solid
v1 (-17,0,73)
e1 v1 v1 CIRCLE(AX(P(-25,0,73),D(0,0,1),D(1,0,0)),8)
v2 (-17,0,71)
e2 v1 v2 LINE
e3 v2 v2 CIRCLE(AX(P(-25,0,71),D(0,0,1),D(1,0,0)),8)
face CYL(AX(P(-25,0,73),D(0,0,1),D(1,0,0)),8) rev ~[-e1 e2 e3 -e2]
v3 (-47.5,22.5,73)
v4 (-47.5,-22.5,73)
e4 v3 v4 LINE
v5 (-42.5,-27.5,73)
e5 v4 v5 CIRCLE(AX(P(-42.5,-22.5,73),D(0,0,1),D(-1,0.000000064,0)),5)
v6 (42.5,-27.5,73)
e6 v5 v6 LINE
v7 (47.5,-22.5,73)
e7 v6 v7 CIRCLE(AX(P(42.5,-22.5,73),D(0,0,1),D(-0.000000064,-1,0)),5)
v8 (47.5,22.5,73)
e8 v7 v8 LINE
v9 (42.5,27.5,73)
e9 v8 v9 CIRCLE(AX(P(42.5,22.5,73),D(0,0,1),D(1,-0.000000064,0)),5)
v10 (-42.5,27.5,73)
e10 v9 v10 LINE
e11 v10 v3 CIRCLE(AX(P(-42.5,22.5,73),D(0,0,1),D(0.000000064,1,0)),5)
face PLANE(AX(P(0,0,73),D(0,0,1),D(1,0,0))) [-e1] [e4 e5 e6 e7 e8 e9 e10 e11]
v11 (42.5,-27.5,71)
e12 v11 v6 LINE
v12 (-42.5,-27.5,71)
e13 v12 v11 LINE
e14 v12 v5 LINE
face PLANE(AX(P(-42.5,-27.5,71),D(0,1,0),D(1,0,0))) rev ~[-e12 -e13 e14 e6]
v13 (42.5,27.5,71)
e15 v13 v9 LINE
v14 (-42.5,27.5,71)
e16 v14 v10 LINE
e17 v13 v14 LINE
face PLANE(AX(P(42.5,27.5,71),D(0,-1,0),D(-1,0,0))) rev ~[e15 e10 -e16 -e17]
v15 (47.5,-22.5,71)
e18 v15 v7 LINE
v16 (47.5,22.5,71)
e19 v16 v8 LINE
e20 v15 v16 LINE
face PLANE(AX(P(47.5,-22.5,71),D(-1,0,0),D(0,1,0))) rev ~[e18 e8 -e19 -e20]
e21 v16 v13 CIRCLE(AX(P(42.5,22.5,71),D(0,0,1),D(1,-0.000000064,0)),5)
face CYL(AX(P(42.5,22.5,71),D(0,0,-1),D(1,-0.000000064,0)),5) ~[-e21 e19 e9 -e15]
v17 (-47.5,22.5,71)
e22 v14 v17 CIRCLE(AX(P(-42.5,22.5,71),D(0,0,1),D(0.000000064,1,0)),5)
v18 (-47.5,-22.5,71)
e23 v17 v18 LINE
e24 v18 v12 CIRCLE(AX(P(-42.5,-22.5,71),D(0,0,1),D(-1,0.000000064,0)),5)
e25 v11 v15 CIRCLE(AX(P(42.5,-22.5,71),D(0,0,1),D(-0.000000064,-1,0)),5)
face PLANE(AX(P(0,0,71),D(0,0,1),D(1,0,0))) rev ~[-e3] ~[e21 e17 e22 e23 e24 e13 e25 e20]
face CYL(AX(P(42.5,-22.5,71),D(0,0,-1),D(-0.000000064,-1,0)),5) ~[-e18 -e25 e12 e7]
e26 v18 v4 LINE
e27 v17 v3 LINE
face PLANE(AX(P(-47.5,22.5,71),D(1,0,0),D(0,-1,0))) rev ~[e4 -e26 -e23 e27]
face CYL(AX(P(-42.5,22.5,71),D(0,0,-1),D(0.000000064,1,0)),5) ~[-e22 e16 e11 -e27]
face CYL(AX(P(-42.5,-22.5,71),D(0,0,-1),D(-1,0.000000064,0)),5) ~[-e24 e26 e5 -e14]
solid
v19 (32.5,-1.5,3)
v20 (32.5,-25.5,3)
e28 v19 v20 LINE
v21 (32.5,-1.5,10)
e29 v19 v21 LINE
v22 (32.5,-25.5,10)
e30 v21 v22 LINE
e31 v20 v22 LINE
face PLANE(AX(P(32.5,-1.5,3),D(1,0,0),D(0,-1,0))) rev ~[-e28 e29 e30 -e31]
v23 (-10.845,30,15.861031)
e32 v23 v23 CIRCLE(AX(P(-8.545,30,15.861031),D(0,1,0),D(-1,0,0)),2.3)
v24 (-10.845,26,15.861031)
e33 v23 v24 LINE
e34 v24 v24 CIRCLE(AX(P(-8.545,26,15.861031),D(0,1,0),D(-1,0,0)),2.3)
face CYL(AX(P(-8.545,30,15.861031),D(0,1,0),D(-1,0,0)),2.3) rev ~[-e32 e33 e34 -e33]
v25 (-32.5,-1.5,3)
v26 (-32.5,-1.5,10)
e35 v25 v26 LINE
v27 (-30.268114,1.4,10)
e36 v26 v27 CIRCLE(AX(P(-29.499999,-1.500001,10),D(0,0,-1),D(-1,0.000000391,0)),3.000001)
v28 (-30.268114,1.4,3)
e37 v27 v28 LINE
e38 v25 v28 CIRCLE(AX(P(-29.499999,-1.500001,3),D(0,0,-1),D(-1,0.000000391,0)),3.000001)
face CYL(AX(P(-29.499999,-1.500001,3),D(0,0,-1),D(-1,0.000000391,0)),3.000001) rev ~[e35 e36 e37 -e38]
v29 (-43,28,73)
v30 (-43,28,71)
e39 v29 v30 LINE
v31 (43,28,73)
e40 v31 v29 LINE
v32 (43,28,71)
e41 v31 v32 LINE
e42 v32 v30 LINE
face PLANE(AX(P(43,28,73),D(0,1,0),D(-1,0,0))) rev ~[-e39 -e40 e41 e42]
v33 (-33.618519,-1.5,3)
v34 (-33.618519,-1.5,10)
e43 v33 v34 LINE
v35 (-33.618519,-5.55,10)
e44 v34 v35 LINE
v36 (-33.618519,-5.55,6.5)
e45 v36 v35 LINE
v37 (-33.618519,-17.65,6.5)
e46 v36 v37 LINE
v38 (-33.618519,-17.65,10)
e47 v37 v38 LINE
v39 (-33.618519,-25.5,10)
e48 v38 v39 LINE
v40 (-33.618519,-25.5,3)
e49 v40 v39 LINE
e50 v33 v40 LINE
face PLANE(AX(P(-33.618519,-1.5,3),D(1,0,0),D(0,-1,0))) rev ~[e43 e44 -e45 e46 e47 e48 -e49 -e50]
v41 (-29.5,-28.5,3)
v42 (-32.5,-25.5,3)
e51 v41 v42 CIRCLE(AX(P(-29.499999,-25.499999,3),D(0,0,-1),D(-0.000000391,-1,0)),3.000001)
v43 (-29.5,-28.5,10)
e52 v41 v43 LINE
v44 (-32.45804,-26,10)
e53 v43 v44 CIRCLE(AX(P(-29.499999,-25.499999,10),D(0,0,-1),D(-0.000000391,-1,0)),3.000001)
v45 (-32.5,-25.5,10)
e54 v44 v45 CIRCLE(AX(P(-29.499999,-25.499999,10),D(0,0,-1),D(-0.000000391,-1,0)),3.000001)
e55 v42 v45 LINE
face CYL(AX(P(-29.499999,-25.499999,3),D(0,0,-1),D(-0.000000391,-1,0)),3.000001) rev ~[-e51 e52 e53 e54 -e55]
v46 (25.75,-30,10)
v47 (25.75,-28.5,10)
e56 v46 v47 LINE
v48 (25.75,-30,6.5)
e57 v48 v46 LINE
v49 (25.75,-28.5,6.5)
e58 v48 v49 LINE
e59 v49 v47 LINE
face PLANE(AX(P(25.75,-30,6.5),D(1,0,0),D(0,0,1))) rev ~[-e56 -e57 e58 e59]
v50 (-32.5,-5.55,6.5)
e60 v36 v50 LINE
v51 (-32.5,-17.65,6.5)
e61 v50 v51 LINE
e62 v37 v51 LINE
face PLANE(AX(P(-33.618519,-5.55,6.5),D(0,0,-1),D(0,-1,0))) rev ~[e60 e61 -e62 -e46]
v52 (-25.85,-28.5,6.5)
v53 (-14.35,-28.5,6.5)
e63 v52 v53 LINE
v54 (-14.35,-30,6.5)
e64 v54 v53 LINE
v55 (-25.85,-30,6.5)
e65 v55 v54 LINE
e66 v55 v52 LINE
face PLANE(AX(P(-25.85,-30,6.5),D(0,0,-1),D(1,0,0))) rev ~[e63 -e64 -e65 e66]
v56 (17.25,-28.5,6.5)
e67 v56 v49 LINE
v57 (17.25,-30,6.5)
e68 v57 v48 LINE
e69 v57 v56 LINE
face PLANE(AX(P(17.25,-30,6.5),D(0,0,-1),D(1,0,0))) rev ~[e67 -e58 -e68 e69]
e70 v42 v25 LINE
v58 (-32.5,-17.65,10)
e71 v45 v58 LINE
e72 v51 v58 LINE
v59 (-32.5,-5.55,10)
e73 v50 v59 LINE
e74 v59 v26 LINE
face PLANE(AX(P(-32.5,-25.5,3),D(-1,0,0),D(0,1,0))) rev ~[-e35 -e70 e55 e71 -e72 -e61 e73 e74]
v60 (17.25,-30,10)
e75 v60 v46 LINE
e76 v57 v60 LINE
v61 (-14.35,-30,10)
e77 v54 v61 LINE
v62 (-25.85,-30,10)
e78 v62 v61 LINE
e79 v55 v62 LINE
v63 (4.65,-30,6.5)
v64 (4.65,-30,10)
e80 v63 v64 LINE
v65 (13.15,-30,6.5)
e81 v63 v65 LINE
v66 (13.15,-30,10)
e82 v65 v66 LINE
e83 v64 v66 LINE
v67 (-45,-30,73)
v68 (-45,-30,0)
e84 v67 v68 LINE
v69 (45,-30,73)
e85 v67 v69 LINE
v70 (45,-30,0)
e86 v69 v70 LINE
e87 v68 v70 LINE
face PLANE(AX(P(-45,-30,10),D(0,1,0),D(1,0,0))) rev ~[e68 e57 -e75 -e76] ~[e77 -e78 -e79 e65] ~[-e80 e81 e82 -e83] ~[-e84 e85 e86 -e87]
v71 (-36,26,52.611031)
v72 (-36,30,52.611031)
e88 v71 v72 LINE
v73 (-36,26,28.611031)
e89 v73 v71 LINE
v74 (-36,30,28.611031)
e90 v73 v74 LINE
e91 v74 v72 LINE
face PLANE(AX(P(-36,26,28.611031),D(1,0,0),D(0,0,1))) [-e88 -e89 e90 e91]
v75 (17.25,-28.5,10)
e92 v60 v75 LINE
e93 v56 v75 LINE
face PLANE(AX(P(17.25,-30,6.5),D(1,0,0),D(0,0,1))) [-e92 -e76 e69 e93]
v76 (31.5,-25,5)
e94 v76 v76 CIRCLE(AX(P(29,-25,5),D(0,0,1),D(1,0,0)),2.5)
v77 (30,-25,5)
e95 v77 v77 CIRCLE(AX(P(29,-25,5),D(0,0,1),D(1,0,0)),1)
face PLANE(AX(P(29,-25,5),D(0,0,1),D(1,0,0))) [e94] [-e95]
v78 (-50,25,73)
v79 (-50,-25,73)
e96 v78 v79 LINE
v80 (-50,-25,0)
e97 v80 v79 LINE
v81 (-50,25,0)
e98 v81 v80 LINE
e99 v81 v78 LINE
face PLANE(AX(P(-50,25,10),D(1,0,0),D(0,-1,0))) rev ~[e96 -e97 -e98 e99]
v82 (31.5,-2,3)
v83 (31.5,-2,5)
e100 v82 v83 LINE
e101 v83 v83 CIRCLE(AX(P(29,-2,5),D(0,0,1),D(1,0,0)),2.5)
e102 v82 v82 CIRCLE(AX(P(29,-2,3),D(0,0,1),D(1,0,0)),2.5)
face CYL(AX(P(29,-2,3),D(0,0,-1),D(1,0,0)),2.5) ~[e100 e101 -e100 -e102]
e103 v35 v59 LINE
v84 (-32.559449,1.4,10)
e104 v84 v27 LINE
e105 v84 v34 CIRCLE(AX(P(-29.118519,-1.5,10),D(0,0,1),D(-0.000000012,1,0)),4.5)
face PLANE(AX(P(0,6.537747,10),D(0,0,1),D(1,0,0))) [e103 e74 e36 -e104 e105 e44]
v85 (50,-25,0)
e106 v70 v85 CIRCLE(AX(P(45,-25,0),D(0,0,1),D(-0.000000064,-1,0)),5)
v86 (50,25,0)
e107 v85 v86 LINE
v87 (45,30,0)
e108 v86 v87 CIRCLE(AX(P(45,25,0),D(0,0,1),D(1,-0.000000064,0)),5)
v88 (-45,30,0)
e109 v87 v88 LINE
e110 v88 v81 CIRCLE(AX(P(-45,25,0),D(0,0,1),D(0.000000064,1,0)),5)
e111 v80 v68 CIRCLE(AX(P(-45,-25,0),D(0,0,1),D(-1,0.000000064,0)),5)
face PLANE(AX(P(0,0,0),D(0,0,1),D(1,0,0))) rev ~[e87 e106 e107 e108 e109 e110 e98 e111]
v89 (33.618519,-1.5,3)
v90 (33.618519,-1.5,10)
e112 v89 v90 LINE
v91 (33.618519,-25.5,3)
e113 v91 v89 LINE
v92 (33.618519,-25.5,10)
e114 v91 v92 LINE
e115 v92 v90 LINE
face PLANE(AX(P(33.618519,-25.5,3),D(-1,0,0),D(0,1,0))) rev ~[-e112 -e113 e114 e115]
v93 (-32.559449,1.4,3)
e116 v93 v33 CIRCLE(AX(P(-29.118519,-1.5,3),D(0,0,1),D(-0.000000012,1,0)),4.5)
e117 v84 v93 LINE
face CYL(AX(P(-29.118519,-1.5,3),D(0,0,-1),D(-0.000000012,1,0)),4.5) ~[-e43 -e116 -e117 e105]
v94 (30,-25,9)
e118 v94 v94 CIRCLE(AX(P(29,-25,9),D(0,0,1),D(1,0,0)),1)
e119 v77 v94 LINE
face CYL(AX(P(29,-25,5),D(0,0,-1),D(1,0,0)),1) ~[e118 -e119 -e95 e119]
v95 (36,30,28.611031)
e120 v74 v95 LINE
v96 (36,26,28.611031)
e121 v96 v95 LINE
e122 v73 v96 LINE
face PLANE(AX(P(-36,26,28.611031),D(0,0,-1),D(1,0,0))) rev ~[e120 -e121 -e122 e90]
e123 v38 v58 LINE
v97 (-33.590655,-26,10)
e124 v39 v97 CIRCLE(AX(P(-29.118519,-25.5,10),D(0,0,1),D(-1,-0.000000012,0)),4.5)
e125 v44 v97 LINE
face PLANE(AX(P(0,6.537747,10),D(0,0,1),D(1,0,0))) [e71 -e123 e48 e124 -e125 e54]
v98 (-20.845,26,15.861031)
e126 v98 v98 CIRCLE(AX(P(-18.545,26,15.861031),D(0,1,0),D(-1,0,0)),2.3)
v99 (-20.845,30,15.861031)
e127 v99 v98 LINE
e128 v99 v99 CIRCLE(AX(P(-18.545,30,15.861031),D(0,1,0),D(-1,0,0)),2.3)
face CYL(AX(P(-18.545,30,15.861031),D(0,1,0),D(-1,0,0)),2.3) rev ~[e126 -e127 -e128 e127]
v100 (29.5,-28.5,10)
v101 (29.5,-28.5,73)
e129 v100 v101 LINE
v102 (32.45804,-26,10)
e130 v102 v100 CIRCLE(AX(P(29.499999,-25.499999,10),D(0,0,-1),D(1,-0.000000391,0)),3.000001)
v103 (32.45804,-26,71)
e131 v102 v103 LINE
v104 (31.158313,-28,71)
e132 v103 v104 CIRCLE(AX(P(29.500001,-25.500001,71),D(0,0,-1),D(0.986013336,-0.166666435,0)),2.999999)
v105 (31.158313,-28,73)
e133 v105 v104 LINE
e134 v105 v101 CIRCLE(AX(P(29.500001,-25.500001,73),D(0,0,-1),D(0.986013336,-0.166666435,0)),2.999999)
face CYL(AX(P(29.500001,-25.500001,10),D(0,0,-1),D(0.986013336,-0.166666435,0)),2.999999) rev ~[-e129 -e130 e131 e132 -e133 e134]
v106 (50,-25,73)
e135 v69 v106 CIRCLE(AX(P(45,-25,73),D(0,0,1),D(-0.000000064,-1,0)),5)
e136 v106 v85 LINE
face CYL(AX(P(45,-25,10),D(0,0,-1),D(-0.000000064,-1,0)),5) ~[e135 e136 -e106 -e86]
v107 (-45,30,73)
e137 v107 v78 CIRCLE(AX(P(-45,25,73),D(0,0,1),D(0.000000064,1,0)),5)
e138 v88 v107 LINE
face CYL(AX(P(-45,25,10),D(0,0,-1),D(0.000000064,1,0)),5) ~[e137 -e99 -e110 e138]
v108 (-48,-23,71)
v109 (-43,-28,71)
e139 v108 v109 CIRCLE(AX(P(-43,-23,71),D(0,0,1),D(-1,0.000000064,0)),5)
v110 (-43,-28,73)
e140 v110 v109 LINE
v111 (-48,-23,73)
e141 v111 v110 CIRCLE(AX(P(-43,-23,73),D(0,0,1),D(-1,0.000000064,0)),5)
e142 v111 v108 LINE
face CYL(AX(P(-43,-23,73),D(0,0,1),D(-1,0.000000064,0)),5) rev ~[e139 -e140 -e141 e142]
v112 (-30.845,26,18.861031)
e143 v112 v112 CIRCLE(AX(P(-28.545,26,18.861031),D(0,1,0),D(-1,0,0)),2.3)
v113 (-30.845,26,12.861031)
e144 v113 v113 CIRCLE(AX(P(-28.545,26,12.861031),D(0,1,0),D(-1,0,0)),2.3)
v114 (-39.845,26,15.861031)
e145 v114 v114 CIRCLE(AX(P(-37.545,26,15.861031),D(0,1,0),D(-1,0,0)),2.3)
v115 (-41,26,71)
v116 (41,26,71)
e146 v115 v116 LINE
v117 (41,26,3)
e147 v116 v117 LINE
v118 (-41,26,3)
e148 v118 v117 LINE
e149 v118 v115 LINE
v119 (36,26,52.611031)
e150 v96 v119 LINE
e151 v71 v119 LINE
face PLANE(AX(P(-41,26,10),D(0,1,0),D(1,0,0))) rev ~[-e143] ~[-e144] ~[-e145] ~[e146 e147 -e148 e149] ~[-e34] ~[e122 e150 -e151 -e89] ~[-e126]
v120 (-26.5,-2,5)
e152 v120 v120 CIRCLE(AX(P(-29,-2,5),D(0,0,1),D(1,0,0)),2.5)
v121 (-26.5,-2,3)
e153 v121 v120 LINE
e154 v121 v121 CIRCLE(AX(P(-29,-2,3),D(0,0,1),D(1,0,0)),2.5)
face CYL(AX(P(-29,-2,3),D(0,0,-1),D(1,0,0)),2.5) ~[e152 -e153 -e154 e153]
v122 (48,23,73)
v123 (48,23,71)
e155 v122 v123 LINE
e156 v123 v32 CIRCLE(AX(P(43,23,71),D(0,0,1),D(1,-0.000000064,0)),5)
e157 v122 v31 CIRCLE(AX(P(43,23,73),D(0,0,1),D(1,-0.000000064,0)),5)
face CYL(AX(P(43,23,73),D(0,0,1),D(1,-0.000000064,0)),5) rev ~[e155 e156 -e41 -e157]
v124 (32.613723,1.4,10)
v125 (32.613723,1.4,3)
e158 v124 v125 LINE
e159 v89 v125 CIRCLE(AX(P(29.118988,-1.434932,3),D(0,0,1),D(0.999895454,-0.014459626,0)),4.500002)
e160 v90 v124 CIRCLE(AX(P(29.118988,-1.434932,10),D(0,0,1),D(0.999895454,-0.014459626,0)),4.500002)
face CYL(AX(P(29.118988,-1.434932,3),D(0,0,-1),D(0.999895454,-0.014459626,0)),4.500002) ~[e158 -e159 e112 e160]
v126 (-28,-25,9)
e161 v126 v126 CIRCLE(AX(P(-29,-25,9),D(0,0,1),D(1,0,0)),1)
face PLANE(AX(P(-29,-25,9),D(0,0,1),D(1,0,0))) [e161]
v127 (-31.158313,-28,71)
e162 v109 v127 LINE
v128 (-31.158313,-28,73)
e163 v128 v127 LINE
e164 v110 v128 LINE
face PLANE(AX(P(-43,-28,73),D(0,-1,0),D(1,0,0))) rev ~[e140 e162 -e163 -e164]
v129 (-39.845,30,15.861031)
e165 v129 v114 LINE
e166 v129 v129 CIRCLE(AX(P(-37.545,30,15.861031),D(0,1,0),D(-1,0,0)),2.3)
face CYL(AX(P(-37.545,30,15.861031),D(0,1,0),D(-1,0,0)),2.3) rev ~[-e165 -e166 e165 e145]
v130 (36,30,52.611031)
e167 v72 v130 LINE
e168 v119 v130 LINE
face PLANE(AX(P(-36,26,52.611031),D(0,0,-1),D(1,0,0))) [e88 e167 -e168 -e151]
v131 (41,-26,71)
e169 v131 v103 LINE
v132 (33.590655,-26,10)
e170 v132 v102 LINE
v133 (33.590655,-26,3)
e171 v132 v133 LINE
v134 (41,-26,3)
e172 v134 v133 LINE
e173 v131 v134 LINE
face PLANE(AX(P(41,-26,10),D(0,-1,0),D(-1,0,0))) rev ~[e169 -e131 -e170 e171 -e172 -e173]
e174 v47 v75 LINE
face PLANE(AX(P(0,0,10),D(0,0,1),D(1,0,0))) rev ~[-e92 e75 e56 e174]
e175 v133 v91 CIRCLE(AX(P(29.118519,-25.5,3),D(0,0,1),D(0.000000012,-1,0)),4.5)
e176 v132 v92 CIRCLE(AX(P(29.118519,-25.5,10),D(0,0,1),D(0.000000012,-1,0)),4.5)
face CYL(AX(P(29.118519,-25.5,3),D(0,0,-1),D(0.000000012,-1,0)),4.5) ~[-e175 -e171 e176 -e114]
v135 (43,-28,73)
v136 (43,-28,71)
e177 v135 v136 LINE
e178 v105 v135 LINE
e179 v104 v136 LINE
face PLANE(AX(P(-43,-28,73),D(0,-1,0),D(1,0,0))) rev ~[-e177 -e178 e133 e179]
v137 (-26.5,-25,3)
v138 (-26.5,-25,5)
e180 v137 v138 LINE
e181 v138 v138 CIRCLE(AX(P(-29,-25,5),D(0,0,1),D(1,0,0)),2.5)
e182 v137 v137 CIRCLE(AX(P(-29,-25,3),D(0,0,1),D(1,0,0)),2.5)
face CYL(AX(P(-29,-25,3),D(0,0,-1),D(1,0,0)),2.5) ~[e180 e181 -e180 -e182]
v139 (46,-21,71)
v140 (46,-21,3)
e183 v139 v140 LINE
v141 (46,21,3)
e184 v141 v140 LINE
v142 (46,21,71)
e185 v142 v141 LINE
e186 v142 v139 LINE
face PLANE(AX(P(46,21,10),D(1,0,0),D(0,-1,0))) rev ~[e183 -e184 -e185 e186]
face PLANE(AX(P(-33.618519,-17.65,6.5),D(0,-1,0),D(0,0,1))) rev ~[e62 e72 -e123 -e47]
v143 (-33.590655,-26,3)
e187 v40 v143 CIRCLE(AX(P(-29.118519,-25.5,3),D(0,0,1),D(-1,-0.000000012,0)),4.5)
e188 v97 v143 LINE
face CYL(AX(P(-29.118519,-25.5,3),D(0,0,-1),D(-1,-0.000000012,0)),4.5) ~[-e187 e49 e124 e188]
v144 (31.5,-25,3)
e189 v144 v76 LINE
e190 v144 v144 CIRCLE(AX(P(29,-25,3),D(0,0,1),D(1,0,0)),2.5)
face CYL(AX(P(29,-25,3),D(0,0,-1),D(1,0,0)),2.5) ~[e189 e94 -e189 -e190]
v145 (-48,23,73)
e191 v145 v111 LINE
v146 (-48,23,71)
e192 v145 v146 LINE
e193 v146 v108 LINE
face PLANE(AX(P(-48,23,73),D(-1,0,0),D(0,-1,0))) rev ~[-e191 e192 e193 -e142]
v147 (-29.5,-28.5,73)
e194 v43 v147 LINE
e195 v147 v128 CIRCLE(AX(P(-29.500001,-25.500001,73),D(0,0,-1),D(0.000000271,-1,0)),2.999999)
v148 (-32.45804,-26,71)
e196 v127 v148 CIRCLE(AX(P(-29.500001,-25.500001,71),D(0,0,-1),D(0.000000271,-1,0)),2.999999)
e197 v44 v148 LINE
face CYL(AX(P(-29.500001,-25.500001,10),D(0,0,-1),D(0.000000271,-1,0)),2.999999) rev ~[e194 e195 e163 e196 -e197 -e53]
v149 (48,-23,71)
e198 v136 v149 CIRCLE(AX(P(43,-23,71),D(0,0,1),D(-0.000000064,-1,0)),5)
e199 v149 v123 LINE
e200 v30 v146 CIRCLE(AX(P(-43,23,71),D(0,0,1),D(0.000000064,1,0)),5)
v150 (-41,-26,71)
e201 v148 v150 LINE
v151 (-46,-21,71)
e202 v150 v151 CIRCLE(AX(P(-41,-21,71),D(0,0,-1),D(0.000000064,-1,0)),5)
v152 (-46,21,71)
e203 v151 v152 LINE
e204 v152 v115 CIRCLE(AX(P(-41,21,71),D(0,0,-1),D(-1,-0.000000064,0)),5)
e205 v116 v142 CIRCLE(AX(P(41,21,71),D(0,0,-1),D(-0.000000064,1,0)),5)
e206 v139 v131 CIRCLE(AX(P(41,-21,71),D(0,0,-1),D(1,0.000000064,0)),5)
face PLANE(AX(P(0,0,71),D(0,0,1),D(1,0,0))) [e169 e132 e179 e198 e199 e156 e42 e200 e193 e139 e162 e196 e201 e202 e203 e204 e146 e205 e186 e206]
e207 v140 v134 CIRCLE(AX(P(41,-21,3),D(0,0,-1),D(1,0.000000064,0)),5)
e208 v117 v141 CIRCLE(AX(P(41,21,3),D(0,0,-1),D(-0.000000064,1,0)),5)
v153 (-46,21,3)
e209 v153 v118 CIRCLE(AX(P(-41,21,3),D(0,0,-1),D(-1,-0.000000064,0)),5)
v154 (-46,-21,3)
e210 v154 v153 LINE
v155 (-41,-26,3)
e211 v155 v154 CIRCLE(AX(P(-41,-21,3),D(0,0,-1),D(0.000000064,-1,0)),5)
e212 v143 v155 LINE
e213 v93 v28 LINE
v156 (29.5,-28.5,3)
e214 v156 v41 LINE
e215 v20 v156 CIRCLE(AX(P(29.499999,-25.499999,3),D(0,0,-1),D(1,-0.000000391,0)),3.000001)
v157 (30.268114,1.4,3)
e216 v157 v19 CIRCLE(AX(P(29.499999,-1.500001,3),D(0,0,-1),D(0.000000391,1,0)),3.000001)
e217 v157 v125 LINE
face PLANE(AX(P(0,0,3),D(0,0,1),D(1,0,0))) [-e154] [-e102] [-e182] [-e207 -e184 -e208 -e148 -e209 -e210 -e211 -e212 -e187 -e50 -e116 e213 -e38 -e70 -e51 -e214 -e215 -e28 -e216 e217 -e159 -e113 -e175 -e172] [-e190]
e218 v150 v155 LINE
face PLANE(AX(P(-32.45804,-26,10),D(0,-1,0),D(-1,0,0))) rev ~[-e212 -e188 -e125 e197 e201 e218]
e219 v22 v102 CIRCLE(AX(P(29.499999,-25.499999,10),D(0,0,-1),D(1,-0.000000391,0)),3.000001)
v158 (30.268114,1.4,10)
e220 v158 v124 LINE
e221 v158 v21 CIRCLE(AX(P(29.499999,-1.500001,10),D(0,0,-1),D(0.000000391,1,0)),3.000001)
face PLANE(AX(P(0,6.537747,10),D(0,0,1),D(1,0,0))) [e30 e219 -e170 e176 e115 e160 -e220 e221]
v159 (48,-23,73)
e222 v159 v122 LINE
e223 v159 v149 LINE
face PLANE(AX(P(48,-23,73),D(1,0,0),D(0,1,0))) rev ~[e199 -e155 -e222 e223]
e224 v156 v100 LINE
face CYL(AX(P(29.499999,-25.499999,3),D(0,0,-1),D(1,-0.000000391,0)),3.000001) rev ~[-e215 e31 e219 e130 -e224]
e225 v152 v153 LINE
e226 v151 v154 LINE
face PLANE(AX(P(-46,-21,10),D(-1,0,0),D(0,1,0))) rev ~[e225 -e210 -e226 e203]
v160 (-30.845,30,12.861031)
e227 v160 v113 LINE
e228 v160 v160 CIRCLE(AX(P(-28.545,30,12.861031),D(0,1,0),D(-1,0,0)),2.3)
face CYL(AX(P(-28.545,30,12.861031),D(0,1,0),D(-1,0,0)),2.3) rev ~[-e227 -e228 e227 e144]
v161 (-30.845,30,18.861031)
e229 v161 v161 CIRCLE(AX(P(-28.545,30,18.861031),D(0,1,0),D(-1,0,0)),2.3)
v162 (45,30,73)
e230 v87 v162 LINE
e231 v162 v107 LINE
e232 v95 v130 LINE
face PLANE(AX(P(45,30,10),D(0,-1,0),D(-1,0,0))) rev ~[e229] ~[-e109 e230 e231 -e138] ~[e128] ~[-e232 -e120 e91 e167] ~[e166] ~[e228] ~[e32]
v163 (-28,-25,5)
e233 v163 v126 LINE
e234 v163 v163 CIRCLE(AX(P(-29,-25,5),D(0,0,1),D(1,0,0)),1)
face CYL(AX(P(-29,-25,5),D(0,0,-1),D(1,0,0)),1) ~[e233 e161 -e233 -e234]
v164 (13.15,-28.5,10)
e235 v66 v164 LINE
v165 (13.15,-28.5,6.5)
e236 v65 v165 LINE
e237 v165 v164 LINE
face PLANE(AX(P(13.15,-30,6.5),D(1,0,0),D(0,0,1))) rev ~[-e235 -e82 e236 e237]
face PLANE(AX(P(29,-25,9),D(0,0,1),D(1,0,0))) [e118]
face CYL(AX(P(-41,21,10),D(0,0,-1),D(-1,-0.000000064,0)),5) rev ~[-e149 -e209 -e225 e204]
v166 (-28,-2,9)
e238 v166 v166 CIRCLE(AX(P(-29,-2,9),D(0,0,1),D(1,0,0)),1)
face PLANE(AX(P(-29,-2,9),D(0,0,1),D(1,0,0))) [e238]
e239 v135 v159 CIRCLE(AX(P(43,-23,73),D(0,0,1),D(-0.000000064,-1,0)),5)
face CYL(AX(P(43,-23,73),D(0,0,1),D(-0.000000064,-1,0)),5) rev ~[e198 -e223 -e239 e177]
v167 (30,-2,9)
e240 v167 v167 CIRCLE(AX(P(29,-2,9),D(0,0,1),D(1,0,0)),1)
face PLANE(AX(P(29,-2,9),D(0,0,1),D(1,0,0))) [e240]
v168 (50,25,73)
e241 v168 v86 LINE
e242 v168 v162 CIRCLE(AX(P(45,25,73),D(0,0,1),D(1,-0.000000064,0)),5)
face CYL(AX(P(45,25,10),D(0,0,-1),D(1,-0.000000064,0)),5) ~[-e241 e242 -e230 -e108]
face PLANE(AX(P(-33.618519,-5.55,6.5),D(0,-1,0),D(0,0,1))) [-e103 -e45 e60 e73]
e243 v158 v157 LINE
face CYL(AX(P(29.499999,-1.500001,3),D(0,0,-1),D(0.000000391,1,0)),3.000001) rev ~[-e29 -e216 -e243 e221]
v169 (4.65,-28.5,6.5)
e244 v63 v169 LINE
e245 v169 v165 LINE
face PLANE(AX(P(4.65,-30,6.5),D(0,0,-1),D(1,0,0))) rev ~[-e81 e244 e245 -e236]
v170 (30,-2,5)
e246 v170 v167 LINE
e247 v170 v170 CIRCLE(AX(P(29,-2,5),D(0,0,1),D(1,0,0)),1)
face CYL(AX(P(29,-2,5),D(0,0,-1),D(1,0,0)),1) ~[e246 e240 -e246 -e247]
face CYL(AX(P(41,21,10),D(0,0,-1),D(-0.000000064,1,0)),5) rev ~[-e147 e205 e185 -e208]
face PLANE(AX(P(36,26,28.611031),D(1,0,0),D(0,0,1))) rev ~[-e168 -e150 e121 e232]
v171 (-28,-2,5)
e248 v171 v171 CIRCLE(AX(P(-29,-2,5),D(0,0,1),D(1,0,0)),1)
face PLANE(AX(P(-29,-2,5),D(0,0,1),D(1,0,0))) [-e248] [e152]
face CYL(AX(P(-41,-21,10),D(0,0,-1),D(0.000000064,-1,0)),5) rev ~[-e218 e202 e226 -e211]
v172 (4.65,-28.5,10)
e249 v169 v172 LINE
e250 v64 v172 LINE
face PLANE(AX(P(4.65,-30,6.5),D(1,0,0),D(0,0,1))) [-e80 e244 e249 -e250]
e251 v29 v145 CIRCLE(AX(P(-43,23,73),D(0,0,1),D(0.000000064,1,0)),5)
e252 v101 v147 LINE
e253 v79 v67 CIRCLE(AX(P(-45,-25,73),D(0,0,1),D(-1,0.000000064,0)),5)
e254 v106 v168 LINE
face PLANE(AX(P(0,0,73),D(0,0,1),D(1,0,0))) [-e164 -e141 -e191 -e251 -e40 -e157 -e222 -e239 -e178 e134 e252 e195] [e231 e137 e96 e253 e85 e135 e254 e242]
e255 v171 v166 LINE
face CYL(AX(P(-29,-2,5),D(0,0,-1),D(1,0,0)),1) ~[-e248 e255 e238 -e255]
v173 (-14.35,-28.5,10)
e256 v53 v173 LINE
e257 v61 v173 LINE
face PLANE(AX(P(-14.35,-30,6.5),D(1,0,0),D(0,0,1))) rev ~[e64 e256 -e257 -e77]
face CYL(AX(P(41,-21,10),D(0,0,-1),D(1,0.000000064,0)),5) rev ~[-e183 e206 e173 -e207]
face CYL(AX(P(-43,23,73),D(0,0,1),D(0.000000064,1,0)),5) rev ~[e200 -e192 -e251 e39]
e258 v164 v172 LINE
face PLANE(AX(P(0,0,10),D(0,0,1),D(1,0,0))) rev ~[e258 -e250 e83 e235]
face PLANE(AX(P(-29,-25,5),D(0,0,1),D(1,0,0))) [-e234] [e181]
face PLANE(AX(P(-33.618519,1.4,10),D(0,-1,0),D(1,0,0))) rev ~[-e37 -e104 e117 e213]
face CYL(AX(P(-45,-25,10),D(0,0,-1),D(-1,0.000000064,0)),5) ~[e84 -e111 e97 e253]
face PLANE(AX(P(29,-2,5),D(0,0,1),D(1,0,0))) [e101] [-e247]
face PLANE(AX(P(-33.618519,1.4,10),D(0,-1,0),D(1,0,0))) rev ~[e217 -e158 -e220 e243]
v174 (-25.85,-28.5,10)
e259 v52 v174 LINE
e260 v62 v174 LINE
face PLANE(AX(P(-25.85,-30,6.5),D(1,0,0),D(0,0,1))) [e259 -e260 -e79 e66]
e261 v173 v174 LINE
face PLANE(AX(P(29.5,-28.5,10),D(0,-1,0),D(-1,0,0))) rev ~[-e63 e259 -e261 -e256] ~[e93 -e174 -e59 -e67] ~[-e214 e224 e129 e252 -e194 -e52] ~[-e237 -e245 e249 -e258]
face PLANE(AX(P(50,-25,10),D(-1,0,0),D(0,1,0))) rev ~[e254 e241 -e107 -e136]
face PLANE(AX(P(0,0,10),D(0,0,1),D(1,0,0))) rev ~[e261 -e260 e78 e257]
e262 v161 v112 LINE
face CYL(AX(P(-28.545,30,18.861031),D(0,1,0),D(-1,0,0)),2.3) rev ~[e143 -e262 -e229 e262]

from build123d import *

# Parameters (mm, degrees)
F1_DEPTH  = 3
F3_DEPTH  = 7
F4_W      = 11.5
F4_H      = 3.5
F4_W_2    = 8.5
F5_DEPTH  = 1.5
F6_R      = 2.5
F7_DEPTH  = 2
F8_R      = 1
F9_DEPTH  = 4
F10_W     = 12.1
F10_H     = 3.5
F11_DEPTH = 1.118519
F13_DEPTH = 7
F15_DEPTH = 63
F17_DEPTH = 2
F19_W     = 72
F19_H     = 24
F20_DEPTH = 4
F21_R     = 2.3
F22_DEPTH = 4
F23_W     = 66.979637
F23_H     = 1.6
F24_DEPTH = 7
F26_DEPTH = 2
F27_R     = 8
F28_DEPTH = 2


with BuildPart() as f1:
    # F0 (on Top) → F1 (new body)
    with BuildSketch(Plane.XY):
        with BuildLine():
            Line((-45, -30), (45, -30))
            ThreePointArc((45, -30), (48.535534, -28.535534), (50, -25))
            Line((50, -25), (50, 25))
            ThreePointArc((50, 25), (48.535534, 28.535534), (45, 30))
            Line((45, 30), (-45, 30))
            ThreePointArc((-45, 30), (-48.535534, 28.535534), (-50, 25))
            Line((-50, 25), (-50, -25))
            ThreePointArc((-50, -25), (-48.535534, -28.535534), (-45, -30))
        make_face()
    extrude(amount=F1_DEPTH)

    # F2 (on face) → F3 (join)
    with BuildSketch(Plane.XY.offset(3)):
        with BuildLine():
            ThreePointArc((-29.118519, 3), (-32.300499, 1.681981), (-33.618519, -1.5))
            Line((-33.618519, -1.5), (-33.618519, -25.5))
            ThreePointArc((-33.618519, -25.5), (-32.300499, -28.681981), (-29.118519, -30))
            Line((-29.118519, -30), (29.118519, -30))
            ThreePointArc((29.118519, -30), (32.300499, -28.681981), (33.618519, -25.5))
            Line((33.618519, -25.5), (33.618519, -1.5))
            ThreePointArc((33.618519, -1.5), (32.580884, 1.44001), (29.881481, 3))
            Line((29.881481, 3), (-29.118519, 3))
        make_face()
        with BuildLine():
            Line((-32.5, -25.5), (-32.5, -1.5))
            ThreePointArc((-32.5, -1.5), (-31.62132, 0.62132), (-29.5, 1.5))
            Line((-29.5, 1.5), (29.5, 1.5))
            ThreePointArc((29.5, 1.5), (31.62132, 0.62132), (32.5, -1.5))
            Line((32.5, -1.5), (32.5, -25.5))
            ThreePointArc((32.5, -25.5), (31.62132, -27.62132), (29.5, -28.5))
            Line((29.5, -28.5), (-29.5, -28.5))
            ThreePointArc((-29.5, -28.5), (-31.62132, -27.62132), (-32.5, -25.5))
        make_face(mode=Mode.SUBTRACT)
    extrude(amount=F3_DEPTH)

    # F4 (on face) → F5 (cut, through all)
    with BuildSketch(Plane.XZ.offset(30)):
        with Locations((-20.1, 8.25)):
            Rectangle(F4_W, F4_H)
        with Locations((8.9, 8.25)):
            Rectangle(F4_W_2, F4_H)
        with Locations((21.5, 8.25)):
            Rectangle(F4_W_2, F4_H)
    extrude(amount=-F5_DEPTH, mode=Mode.SUBTRACT)

    # F6 (on face) → F7 (join)
    with BuildSketch(Plane.XY.offset(3)):
        with Locations((-29, -2)):
            Circle(F6_R)
        with Locations((29, -2)):
            Circle(F6_R)
        with Locations((29, -25)):
            Circle(F6_R)
        with Locations((-29, -25)):
            Circle(F6_R)
    extrude(amount=F7_DEPTH)

    # F8 (on face) → F9 (join)
    with BuildSketch(Plane.XY.offset(5)):
        with Locations((-29, -2)):
            Circle(F8_R)
        with Locations((29, -2)):
            Circle(F8_R)
        with Locations((29, -25)):
            Circle(F8_R)
        with Locations((-29, -25)):
            Circle(F8_R)
    extrude(amount=F9_DEPTH)

    # F10 (on face) → F11 (cut, through all)
    with BuildSketch(Plane(origin=(-33.618519, 0, 0), x_dir=(0, -1, 0), z_dir=(-1, 0, 0))):
        with Locations((11.6, 8.25)):
            Rectangle(F10_W, F10_H)
    extrude(amount=-F11_DEPTH, mode=Mode.SUBTRACT)

    # F12 (on face) → F13 (join, through all)
    with BuildSketch(Plane.XY.offset(3)):
        with BuildLine():
            ThreePointArc((50, 25), (48.535534, 28.535534), (45, 30))
            Line((45, 30), (-45, 30))
            ThreePointArc((-45, 30), (-48.535534, 28.535534), (-50, 25))
            Line((-50, 25), (-50, -25))
            ThreePointArc((-50, -25), (-48.535534, -28.535534), (-45, -30))
            Line((-45, -30), (-29.118519, -30))
            ThreePointArc((-29.118519, -30), (-32.118519, -28.854102), (-33.590654, -26))
            Line((-33.590654, -26), (-41, -26))
            ThreePointArc((-41, -26), (-44.535534, -24.535534), (-46, -21))
            Line((-46, -21), (-46, 21))
            ThreePointArc((-46, 21), (-44.535534, 24.535534), (-41, 26))
            Line((-41, 26), (41, 26))
            ThreePointArc((41, 26), (44.535534, 24.535534), (46, 21))
            Line((46, 21), (46, -21))
            ThreePointArc((46, -21), (44.535534, -24.535534), (41, -26))
            Line((41, -26), (33.590654, -26))
            ThreePointArc((33.590654, -26), (32.118519, -28.854102), (29.118519, -30))
            Line((29.118519, -30), (45, -30))
            ThreePointArc((45, -30), (48.535534, -28.535534), (50, -25))
            Line((50, -25), (50, 25))
        make_face()
    extrude(amount=F13_DEPTH)

    # F14 (on face) → F15 (join)
    with BuildSketch(Plane.XY.offset(10)):
        with BuildLine():
            ThreePointArc((50, 25), (48.535534, 28.535534), (45, 30))
            Line((45, 30), (-45, 30))
            ThreePointArc((-45, 30), (-48.535534, 28.535534), (-50, 25))
            Line((-50, 25), (-50, -25))
            ThreePointArc((-50, -25), (-48.535534, -28.535534), (-45, -30))
            Line((-45, -30), (45, -30))
            ThreePointArc((45, -30), (48.535534, -28.535534), (50, -25))
            Line((50, -25), (50, 25))
        make_face()
        with BuildLine():
            Line((-41, 26), (41, 26))
            ThreePointArc((41, 26), (44.535534, 24.535534), (46, 21))
            Line((46, 21), (46, -21))
            ThreePointArc((46, -21), (44.535534, -24.535534), (41, -26))
            Line((41, -26), (32.45804, -26))
            ThreePointArc((32.45804, -26), (31.436492, -27.791288), (29.5, -28.5))
            Line((29.5, -28.5), (-29.5, -28.5))
            ThreePointArc((-29.5, -28.5), (-31.436492, -27.791288), (-32.45804, -26))
            Line((-32.45804, -26), (-41, -26))
            ThreePointArc((-41, -26), (-44.535534, -24.535534), (-46, -21))
            Line((-46, -21), (-46, 21))
            ThreePointArc((-46, 21), (-44.535534, 24.535534), (-41, 26))
        make_face(mode=Mode.SUBTRACT)
    extrude(amount=F15_DEPTH)

    # F16 (on face) → F17 (cut)
    with BuildSketch(Plane.XY.offset(73)):
        with BuildLine():
            ThreePointArc((48, 23), (46.535534, 26.535534), (43, 28))
            Line((43, 28), (-43, 28))
            ThreePointArc((-43, 28), (-46.535534, 26.535534), (-48, 23))
            Line((-48, 23), (-48, -23))
            ThreePointArc((-48, -23), (-46.535534, -26.535534), (-43, -28))
            Line((-43, -28), (43, -28))
            ThreePointArc((43, -28), (46.535534, -26.535534), (48, -23))
            Line((48, -23), (48, 23))
        make_face()
    extrude(amount=-F17_DEPTH, mode=Mode.SUBTRACT)

    # F19 (on face) → F20 (cut, through all)
    with BuildSketch(Plane.XZ.offset(-26)):
        with Locations((0, 40.611031)):
            Rectangle(F19_W, F19_H)
    extrude(amount=-F20_DEPTH, mode=Mode.SUBTRACT)

    # F21 (on face) → F22 (cut, through all)
    with BuildSketch(Plane(origin=(0, 30, 0), x_dir=(-1, 0, 0), z_dir=(0, 1, 0))):
        with Locations((8.545, 15.861031)):
            Circle(F21_R)
        with Locations((18.545, 15.861031)):
            Circle(F21_R)
        with Locations((28.545, 12.861031)):
            Circle(F21_R)
        with Locations((28.545, 18.861031)):
            Circle(F21_R)
        with Locations((37.545, 15.861031)):
            Circle(F21_R)
    extrude(amount=-F22_DEPTH, mode=Mode.SUBTRACT)

    # F23 (on face) → F24 (cut, through all)
    with BuildSketch(Plane.XY.offset(10)):
        with Locations((-0.128701, 2.2)):
            Rectangle(F23_W, F23_H)
    extrude(amount=-F24_DEPTH, mode=Mode.SUBTRACT)


with BuildPart() as f26:
    # F25 (on face) → F26 (new body)
    with BuildSketch(Plane.XY.offset(71)):
        with BuildLine():
            ThreePointArc((47.5, 22.5), (46.035534, 26.035534), (42.5, 27.5))
            Line((42.5, 27.5), (-42.5, 27.5))
            ThreePointArc((-42.5, 27.5), (-46.035534, 26.035534), (-47.5, 22.5))
            Line((-47.5, 22.5), (-47.5, -22.5))
            ThreePointArc((-47.5, -22.5), (-46.035534, -26.035534), (-42.5, -27.5))
            Line((-42.5, -27.5), (42.5, -27.5))
            ThreePointArc((42.5, -27.5), (46.035534, -26.035534), (47.5, -22.5))
            Line((47.5, -22.5), (47.5, 22.5))
        make_face()
    extrude(amount=F26_DEPTH)

    # F27 (on face) → F28 (cut, through all)
    with BuildSketch(Plane.XY.offset(73)):
        with Locations((-25, 0)):
            Circle(F27_R)
    extrude(amount=-F28_DEPTH, mode=Mode.SUBTRACT)


solid = Compound([f1.part, f26.part])
